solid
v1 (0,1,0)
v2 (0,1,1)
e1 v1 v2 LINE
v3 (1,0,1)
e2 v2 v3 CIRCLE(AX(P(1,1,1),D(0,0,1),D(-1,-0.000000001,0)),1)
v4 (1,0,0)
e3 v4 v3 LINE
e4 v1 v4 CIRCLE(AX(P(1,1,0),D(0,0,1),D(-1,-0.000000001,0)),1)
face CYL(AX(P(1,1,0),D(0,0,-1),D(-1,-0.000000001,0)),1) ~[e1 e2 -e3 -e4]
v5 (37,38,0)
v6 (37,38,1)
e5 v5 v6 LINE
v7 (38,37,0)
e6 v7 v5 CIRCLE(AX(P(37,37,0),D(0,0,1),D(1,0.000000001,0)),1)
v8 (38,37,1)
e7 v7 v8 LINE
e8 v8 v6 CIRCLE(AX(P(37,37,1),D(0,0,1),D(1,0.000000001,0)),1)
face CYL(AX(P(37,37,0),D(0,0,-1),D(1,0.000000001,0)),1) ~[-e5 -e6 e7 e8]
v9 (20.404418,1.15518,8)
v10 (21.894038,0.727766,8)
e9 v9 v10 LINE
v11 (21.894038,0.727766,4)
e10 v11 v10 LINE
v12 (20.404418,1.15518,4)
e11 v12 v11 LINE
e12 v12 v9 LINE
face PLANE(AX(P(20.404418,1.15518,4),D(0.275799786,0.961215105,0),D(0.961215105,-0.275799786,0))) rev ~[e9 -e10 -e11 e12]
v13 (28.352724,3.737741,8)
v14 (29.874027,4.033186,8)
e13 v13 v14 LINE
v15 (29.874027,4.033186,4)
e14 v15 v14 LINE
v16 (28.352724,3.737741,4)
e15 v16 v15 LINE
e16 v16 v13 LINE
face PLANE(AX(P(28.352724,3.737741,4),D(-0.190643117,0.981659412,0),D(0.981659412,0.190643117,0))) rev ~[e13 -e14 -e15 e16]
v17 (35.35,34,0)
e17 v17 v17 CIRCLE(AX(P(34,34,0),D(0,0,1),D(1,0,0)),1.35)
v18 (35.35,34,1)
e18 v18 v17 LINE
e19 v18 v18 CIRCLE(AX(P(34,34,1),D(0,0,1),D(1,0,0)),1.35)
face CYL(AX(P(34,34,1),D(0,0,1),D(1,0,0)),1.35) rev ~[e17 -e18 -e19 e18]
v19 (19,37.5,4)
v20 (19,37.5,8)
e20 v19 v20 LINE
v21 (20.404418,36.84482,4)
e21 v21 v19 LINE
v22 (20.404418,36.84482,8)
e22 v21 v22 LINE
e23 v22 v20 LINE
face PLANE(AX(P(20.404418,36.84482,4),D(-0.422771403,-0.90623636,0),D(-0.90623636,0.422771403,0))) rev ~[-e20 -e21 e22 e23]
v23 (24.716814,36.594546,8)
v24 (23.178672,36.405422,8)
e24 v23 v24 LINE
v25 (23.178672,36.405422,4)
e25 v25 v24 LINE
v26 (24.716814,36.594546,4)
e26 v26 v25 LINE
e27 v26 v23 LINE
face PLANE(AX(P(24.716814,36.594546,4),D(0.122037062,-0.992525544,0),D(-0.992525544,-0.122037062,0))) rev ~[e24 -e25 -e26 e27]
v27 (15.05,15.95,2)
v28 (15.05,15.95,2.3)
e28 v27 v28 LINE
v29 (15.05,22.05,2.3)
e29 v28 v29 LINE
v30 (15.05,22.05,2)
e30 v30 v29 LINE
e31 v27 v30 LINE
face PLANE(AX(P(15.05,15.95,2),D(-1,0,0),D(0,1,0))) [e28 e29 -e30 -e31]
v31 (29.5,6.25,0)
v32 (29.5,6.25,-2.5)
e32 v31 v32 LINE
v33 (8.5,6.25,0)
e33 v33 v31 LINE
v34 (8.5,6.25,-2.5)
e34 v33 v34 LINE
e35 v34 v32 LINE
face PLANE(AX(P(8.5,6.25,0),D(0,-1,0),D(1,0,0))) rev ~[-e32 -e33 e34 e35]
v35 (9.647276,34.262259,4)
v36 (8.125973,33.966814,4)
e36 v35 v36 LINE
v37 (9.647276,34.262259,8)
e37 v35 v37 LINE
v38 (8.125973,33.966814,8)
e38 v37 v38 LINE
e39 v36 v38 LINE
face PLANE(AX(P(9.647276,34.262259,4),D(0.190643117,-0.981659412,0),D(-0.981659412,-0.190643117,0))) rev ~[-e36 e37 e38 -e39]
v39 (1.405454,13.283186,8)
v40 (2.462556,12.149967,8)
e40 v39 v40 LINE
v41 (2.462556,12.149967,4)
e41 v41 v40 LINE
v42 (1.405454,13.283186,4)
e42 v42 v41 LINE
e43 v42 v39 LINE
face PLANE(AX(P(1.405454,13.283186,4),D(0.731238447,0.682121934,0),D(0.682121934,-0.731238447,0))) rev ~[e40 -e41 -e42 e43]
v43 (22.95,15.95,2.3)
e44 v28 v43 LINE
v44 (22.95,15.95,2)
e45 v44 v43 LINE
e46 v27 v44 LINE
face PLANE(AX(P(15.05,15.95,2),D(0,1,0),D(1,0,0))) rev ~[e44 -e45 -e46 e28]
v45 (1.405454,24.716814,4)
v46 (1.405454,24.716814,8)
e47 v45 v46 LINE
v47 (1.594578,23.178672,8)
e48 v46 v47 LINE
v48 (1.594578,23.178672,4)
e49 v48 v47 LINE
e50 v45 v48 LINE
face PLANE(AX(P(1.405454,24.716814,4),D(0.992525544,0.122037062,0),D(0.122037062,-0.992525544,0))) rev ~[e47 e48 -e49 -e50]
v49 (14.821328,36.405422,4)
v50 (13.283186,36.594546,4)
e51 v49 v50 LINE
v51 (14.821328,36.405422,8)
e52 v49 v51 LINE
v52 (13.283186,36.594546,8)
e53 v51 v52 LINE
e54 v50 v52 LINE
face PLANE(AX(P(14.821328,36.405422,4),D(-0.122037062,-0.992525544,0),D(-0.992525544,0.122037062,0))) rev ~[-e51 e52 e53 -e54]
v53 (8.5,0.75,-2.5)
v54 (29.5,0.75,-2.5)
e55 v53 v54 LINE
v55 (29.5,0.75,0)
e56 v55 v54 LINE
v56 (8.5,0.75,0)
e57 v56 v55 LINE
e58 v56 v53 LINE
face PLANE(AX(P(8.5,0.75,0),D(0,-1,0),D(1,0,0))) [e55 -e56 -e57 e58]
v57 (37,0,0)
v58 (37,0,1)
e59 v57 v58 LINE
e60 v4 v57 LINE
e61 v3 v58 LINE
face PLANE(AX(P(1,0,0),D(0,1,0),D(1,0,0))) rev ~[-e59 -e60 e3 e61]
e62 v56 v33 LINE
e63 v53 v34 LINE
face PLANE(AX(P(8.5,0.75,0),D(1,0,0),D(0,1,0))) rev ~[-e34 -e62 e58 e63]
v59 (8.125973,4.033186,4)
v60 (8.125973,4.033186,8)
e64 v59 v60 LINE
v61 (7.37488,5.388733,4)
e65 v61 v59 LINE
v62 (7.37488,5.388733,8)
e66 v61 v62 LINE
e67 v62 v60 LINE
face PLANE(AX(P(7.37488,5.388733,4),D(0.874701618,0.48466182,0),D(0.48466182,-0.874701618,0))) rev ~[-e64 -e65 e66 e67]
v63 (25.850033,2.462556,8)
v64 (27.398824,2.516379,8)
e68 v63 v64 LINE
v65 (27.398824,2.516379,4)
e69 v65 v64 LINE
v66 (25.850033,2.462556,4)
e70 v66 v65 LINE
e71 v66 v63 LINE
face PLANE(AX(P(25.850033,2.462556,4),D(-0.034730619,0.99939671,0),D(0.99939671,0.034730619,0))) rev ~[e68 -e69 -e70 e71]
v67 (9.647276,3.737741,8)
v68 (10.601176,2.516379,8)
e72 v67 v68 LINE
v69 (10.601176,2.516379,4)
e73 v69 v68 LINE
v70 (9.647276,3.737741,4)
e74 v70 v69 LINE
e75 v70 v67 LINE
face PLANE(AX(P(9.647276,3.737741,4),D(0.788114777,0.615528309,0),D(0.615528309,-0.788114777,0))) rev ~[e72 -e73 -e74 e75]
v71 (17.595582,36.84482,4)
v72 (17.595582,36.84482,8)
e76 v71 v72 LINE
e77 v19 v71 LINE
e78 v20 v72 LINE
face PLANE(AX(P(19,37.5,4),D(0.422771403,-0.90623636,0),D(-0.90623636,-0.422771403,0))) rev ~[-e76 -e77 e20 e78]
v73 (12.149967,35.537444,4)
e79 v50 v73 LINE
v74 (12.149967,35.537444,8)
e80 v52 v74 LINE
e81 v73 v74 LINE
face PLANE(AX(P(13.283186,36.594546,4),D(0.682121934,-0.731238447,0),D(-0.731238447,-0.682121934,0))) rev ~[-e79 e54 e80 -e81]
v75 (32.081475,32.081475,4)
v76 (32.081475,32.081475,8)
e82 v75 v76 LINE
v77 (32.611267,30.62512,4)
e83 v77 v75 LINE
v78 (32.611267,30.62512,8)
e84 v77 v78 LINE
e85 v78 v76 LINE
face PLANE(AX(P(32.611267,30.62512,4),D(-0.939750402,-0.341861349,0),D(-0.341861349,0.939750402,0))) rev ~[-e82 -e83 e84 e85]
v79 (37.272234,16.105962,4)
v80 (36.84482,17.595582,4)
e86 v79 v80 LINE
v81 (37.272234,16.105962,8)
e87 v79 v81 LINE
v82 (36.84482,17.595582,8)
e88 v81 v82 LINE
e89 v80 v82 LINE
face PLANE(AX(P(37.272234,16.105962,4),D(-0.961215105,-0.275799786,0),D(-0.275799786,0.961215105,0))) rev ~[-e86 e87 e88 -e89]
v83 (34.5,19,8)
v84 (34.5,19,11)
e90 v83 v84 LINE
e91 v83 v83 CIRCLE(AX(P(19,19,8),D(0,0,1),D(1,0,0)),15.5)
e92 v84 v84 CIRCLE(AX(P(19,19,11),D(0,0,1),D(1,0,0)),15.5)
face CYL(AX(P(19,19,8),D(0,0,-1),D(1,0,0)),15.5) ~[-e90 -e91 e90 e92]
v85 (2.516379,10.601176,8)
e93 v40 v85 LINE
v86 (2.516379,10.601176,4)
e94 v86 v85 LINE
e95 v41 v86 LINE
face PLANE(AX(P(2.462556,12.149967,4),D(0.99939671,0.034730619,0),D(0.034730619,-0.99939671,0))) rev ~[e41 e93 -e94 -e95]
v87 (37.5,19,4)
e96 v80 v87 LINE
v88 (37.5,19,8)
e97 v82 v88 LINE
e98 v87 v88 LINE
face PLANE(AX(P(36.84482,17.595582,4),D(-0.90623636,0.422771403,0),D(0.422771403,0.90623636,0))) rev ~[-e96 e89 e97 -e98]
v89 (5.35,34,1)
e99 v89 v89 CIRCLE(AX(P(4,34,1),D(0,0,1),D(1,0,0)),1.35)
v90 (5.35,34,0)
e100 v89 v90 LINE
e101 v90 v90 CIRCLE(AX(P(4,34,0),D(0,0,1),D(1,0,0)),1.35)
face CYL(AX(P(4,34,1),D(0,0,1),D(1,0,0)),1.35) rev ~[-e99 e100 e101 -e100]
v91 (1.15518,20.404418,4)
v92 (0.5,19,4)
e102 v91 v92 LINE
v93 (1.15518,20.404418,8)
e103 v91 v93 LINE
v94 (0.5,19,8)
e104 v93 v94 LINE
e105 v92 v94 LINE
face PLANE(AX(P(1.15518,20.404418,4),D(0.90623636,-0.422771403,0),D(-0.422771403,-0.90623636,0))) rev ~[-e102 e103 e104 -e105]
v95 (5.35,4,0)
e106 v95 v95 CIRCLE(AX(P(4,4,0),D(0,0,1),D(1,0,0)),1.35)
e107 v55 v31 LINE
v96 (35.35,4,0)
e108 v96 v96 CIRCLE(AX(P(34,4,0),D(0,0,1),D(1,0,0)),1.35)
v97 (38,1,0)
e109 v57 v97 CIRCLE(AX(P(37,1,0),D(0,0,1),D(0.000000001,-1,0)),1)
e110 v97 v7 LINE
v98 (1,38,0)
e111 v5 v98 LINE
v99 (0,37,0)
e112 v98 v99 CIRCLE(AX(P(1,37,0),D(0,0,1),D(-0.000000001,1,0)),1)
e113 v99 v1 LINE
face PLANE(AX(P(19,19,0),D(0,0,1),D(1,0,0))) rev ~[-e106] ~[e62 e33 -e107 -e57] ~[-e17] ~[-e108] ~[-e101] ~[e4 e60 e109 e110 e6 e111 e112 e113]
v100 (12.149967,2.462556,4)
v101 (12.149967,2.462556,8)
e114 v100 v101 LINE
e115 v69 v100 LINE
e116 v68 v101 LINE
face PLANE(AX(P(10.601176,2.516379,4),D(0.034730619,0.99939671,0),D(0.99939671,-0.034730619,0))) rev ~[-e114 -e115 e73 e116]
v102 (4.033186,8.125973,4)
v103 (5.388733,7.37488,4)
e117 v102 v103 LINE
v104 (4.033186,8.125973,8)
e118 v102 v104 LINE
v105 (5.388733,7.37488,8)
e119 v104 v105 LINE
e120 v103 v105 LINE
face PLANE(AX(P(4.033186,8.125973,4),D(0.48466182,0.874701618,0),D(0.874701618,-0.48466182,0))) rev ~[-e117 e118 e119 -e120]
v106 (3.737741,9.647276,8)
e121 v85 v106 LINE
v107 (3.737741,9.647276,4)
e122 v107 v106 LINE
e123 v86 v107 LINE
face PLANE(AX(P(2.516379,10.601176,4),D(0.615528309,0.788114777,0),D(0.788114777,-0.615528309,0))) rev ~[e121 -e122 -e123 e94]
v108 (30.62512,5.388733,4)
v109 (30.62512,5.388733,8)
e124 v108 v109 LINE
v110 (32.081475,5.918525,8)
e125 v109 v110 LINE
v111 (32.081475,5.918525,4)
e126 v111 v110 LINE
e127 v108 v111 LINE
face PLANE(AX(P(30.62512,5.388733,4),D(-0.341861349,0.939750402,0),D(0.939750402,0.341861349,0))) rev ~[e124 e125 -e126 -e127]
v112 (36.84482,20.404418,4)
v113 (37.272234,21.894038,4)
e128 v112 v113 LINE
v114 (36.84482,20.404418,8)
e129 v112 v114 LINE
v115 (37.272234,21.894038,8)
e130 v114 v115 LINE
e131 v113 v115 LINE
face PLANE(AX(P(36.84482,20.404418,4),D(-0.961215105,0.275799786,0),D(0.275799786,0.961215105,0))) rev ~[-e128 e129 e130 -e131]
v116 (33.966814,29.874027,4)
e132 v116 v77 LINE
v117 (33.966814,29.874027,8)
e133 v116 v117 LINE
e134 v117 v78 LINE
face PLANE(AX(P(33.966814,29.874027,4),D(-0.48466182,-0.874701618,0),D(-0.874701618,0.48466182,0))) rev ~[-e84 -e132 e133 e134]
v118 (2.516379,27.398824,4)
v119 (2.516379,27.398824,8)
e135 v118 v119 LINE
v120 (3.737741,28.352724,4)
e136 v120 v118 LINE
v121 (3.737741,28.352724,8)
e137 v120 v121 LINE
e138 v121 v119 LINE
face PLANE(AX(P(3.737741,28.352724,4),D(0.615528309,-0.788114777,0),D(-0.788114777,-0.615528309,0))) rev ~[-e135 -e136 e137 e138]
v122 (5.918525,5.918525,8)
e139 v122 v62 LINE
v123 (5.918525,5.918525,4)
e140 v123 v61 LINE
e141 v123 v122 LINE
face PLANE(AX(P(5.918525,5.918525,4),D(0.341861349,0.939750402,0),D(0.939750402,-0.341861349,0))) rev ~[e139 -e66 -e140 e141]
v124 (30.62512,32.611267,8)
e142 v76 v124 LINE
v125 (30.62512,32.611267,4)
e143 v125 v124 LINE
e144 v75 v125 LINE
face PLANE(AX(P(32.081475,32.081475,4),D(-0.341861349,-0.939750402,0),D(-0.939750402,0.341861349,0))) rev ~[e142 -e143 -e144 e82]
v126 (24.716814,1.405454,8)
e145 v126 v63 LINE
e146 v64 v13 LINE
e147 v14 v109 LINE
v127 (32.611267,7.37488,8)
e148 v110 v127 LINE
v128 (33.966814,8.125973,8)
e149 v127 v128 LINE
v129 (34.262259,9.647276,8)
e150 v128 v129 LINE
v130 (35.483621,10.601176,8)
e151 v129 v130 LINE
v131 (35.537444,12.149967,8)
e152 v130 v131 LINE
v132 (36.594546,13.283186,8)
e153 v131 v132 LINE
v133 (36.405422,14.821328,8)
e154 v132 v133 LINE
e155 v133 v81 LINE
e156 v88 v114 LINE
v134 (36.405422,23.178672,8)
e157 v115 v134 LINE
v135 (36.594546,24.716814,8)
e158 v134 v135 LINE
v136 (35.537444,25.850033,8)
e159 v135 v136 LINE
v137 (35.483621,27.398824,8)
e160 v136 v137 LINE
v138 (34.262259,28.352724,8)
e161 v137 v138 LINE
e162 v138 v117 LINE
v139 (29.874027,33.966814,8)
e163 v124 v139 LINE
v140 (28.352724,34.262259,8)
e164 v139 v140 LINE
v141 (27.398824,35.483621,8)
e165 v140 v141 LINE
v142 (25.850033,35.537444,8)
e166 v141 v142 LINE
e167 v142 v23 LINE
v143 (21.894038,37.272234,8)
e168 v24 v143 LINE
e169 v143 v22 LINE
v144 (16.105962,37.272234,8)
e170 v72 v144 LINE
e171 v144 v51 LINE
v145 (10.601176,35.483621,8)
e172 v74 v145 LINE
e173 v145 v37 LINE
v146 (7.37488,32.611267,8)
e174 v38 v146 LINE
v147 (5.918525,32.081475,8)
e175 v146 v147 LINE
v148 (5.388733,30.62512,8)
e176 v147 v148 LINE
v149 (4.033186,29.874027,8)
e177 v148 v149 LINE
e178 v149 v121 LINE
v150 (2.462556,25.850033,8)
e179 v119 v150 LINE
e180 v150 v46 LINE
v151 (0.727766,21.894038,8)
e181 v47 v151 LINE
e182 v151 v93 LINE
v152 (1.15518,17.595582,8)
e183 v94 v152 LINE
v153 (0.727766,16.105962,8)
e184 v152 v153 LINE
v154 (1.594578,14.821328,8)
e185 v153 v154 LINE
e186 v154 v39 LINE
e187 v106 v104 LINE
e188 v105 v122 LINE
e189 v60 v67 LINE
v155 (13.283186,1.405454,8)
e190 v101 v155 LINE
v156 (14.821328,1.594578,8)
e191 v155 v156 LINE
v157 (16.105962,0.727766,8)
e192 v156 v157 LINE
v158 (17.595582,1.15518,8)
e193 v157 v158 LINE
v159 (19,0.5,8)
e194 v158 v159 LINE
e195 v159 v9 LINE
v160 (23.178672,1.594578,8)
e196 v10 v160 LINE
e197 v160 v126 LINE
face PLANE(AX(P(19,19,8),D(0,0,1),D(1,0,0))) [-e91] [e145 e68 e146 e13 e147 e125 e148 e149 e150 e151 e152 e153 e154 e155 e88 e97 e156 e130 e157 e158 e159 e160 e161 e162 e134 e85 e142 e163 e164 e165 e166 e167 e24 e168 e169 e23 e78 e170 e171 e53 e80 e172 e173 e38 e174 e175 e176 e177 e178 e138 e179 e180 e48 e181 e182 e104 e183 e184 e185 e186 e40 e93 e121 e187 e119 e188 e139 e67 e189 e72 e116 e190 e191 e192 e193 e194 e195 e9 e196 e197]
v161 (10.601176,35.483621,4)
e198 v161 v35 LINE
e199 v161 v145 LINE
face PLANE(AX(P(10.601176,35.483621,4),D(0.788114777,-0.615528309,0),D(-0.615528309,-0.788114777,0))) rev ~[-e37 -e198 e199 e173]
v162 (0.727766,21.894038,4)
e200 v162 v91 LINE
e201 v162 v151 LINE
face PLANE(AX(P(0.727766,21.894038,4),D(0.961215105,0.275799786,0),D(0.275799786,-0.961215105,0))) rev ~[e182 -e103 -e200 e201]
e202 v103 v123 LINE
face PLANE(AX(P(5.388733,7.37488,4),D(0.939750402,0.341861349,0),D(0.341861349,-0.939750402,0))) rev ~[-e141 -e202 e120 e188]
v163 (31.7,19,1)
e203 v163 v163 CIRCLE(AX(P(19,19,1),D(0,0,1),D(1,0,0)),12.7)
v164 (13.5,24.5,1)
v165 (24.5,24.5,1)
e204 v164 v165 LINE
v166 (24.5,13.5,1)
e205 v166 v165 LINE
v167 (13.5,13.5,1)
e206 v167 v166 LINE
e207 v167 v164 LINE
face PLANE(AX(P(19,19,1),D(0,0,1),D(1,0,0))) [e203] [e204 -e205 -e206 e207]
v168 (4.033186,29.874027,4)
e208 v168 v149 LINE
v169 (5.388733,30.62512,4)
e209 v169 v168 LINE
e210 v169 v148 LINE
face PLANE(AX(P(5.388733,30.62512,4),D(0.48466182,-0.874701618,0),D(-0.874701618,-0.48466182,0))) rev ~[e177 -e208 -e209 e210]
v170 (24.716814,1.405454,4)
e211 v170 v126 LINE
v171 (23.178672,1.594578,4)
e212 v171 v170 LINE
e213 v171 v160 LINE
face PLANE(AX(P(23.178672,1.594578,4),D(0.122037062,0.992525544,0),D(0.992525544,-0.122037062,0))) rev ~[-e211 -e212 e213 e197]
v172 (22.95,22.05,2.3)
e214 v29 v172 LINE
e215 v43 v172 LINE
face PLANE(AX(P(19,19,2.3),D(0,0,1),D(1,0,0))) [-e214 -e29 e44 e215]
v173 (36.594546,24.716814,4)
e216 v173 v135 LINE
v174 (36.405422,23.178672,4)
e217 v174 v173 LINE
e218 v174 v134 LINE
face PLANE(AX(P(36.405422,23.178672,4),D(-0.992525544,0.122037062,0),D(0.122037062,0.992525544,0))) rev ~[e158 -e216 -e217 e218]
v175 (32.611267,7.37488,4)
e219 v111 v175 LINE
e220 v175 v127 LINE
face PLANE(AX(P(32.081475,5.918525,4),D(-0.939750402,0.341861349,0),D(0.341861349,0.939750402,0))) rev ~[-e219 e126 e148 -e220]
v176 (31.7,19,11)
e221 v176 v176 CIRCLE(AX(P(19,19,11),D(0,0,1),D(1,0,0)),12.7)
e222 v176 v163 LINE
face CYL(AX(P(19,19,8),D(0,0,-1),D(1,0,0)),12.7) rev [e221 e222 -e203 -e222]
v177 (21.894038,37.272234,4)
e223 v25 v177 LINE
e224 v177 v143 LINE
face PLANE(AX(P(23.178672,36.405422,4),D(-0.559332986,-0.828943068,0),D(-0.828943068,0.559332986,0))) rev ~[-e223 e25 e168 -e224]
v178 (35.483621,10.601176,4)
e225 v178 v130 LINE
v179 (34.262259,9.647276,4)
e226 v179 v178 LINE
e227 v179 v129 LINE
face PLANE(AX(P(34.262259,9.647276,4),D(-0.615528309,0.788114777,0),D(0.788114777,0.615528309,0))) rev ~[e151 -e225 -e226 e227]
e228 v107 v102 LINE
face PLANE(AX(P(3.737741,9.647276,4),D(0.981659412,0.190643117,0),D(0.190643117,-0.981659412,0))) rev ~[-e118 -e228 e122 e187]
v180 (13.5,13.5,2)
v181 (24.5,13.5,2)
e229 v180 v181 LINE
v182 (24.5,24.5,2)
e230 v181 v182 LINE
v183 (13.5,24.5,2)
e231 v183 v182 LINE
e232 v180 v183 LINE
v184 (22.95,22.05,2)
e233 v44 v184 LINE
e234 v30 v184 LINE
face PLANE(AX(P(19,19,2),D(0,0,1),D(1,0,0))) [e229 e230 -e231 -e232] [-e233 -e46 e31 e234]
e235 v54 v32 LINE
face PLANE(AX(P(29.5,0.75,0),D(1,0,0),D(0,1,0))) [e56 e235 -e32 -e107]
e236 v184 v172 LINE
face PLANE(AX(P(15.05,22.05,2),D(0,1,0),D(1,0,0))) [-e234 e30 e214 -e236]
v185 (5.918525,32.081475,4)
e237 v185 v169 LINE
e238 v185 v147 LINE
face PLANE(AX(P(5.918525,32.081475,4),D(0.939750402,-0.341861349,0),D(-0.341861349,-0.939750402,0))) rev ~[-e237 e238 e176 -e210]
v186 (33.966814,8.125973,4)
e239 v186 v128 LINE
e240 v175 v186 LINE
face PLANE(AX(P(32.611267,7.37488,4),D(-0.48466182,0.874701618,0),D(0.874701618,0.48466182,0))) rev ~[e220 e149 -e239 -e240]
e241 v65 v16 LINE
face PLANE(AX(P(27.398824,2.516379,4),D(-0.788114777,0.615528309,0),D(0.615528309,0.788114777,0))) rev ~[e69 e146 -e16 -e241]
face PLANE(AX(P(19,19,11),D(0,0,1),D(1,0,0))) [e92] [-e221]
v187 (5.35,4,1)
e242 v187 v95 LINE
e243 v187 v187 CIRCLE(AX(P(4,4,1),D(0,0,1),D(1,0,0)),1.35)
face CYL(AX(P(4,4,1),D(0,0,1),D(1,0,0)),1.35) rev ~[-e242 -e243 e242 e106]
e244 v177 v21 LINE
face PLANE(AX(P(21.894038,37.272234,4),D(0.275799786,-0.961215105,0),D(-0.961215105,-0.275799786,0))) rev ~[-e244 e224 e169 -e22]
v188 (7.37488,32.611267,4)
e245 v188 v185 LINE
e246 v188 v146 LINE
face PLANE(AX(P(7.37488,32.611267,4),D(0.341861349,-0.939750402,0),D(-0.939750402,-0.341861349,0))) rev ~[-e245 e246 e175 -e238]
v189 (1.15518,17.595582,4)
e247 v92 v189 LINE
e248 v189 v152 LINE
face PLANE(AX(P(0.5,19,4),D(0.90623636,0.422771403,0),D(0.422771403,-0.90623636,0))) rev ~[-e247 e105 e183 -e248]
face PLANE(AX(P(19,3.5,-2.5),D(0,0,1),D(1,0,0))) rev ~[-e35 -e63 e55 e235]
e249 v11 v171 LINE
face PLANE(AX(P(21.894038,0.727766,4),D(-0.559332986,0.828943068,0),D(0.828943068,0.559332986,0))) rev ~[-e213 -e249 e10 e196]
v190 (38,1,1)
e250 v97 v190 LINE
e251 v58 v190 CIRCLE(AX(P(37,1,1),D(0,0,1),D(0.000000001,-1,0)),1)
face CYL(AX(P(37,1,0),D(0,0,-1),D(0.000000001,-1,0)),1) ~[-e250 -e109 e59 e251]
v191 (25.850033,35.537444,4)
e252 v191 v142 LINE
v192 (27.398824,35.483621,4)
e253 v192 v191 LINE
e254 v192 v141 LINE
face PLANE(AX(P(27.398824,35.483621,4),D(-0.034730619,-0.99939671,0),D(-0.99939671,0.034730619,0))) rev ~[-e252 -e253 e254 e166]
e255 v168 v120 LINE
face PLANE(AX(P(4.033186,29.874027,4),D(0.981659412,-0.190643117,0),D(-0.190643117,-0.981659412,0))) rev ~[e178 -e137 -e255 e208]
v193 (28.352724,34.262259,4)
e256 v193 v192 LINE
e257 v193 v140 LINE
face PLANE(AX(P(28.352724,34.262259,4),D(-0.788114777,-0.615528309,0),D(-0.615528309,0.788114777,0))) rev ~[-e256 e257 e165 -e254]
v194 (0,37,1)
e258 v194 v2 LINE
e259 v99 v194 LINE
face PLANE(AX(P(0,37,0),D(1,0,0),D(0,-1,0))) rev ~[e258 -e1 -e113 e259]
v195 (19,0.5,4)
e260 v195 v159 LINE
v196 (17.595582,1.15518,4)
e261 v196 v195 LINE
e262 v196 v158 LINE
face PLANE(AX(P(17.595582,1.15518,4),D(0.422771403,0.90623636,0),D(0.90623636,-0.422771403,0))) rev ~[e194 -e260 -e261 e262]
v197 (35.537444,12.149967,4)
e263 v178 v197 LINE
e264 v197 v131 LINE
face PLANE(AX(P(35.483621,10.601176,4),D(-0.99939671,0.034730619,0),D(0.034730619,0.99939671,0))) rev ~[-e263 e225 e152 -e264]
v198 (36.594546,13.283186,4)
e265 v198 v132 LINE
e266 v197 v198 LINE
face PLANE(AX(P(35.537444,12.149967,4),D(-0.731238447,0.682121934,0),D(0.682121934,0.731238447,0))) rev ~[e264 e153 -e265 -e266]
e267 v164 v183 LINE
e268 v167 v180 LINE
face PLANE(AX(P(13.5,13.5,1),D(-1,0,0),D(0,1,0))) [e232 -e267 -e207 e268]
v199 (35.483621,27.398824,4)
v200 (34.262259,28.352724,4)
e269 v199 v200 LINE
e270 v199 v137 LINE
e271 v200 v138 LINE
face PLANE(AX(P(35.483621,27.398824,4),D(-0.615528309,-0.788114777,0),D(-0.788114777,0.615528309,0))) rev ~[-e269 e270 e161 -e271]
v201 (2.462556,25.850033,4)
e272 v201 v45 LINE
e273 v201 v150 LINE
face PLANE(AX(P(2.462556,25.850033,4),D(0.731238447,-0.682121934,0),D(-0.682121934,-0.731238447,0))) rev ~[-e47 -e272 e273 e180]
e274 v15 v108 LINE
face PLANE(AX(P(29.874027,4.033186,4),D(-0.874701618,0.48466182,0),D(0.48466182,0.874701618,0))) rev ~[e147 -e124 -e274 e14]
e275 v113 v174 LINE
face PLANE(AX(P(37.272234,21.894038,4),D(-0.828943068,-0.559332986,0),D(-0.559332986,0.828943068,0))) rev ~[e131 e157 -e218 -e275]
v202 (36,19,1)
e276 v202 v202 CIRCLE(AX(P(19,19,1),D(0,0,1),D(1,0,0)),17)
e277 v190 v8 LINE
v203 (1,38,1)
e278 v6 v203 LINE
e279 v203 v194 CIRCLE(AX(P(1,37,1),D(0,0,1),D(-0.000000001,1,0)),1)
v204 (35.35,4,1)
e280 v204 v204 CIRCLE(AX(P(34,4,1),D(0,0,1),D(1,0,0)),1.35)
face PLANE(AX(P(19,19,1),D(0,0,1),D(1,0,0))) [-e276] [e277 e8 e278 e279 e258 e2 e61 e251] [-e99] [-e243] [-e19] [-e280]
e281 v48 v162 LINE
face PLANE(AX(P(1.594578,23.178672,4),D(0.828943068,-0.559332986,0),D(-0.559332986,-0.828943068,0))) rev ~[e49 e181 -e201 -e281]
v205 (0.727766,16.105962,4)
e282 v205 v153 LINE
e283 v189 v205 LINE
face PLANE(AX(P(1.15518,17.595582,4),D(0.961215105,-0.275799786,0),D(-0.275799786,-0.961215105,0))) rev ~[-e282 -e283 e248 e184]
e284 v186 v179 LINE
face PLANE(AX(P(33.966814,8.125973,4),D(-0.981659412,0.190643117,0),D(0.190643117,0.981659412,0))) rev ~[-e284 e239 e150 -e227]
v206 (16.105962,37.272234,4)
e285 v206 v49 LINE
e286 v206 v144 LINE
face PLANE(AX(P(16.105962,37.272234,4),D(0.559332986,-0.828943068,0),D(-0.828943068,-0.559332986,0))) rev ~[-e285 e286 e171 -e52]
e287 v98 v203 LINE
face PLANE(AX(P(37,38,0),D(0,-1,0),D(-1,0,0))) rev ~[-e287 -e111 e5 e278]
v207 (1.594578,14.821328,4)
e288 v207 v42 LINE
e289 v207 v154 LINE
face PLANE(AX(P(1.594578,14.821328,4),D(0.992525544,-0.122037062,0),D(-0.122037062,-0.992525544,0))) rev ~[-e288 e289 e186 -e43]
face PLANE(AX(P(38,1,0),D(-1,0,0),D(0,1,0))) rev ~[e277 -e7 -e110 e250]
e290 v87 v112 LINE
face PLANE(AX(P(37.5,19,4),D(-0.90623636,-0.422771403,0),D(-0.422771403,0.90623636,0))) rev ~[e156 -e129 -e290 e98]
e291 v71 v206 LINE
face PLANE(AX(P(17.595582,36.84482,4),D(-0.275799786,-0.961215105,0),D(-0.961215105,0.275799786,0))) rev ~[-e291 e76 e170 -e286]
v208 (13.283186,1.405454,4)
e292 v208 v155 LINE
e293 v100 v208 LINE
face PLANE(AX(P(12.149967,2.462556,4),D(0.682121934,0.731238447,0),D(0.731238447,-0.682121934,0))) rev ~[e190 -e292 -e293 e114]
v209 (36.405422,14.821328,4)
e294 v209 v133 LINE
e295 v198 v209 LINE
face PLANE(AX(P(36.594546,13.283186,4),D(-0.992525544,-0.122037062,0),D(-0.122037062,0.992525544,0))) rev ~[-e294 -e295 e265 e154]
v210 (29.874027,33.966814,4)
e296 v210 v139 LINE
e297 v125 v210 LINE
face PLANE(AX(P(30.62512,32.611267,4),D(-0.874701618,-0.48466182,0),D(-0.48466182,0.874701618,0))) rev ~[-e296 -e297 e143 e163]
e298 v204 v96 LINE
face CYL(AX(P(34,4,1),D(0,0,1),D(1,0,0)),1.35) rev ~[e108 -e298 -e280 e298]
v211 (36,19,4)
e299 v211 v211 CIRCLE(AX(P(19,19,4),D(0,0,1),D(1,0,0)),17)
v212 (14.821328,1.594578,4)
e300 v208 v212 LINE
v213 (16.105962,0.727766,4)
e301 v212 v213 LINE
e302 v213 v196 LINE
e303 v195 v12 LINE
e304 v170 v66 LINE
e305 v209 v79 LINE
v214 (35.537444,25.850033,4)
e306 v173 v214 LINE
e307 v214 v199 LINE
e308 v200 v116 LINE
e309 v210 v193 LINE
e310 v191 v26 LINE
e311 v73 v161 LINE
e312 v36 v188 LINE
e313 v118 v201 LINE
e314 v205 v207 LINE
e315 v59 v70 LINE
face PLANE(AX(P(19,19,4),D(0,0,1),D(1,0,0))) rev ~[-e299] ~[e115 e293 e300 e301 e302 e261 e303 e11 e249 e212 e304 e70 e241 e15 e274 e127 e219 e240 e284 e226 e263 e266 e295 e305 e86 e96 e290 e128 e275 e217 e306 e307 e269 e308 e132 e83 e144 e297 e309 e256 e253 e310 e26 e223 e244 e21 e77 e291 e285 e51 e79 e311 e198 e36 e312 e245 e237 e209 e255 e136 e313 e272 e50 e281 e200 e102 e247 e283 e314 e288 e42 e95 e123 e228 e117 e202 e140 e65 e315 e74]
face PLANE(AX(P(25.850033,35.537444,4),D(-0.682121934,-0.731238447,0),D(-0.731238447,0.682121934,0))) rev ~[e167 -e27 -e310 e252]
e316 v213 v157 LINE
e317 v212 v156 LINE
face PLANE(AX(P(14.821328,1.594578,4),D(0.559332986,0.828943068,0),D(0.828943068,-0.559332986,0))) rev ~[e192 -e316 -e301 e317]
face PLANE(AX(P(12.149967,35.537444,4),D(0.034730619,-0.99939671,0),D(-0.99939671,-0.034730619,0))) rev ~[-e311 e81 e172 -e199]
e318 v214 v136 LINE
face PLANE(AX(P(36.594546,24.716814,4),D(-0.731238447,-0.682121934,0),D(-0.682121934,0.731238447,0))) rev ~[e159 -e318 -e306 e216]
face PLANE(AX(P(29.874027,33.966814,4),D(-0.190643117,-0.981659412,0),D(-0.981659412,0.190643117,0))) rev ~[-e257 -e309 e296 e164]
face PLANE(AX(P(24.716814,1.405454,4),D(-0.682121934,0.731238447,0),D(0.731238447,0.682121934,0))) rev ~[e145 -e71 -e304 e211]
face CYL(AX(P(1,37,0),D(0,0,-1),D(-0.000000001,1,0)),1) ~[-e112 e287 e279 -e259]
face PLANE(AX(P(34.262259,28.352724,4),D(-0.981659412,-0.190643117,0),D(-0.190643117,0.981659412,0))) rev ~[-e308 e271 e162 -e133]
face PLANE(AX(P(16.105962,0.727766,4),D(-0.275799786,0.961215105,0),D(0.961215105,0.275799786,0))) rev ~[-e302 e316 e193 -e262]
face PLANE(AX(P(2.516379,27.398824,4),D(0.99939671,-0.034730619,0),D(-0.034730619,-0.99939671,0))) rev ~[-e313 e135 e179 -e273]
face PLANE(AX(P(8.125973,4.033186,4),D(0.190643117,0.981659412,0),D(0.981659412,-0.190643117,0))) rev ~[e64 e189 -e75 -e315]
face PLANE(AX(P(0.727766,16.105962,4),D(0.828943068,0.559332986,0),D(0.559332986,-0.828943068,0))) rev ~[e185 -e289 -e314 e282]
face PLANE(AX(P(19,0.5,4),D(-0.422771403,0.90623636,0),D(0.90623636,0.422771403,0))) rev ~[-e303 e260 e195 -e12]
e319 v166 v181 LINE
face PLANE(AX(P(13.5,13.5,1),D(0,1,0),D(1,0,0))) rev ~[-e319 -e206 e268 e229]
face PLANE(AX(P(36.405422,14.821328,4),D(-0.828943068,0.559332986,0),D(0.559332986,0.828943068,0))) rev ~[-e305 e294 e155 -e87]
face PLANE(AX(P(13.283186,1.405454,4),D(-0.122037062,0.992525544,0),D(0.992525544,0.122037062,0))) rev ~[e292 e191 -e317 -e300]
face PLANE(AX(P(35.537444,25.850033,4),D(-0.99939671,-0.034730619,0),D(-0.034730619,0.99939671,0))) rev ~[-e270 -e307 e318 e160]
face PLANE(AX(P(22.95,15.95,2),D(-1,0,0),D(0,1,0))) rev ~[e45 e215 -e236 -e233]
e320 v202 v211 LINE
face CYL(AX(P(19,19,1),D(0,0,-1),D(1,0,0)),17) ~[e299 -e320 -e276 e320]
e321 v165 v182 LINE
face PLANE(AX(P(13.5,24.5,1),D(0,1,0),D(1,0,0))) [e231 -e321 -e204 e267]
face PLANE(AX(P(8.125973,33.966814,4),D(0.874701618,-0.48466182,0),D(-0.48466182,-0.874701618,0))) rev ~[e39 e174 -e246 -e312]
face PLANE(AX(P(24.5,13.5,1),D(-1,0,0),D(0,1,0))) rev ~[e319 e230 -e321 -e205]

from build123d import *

# Parameters (mm, degrees)
PCB_DEPTH           = 1
SKETCH2_W           = 11
SKETCH2_H           = 11
SENSOR_DEPTH        = 1
SKETCH3_W           = 7.9
SKETCH3_H           = 6.1
SENSOR_GLASS_DEPTH  = 0.3
SKETCH4_R           = 17
SKETCH4_R_2         = 12.7
MOUNT_BASE_DEPTH    = 3
SKETCH5_R           = 12.7
LOCK_RING_DEPTH     = 4
SKETCH6_R           = 15.5
SKETCH6_R_2         = 12.7
CS_TUBE_DEPTH       = 3
SKETCH7_W           = 21
SKETCH7_H           = 5.5
FFC_CONNECTOR_DEPTH = 2.5
SKETCH8_R           = 1.35
HOLES_DEPTH         = 1


with BuildPart() as part:
    # Sketch1 → PCB (new body)
    with BuildSketch(Plane.XY):
        with BuildLine():
            Line((1, 0), (37, 0))
            ThreePointArc((37, 0), (37.707106781, 0.292893219), (38, 1))
            Line((38, 1), (38, 37))
            ThreePointArc((38, 37), (37.707106781, 37.707106781), (37, 38))
            Line((37, 38), (1, 38))
            ThreePointArc((1, 38), (0.292893219, 37.707106781), (0, 37))
            Line((0, 37), (0, 1))
            ThreePointArc((0, 1), (0.292893219, 0.292893219), (1, 0))
        make_face()
    extrude(amount=PCB_DEPTH)

    # Sketch2 → Sensor (add)
    with BuildSketch(Plane.XY.offset(1)):
        with Locations((19, 19)):
            Rectangle(SKETCH2_W, SKETCH2_H)
    extrude(amount=SENSOR_DEPTH)

    # Sketch3 → Sensor_glass (add)
    with BuildSketch(Plane.XY.offset(2)):
        with Locations((19, 19)):
            Rectangle(SKETCH3_W, SKETCH3_H)
    extrude(amount=SENSOR_GLASS_DEPTH)

    # Sketch4 → Mount_base (add)
    with BuildSketch(Plane.XY.offset(1)):
        with Locations((19, 19)):
            Circle(SKETCH4_R)
        with Locations((19, 19)):
            Circle(SKETCH4_R_2, mode=Mode.SUBTRACT)
    extrude(amount=MOUNT_BASE_DEPTH)

    # Sketch5 → Lock_ring (add)
    with BuildSketch(Plane.XY.offset(4)):
        Polygon((37.5, 19), (36.844820274, 20.404417814), (37.272234301, 21.894037603), (36.405421575, 23.178672013), (36.594545551, 24.716814396), (35.537443632, 25.850033439), (35.483620697, 27.398824245), (34.262258942, 28.352724308), (33.966814396, 29.874027167), (32.611266784, 30.625120065), (32.081475452, 32.081475452), (30.625120065, 32.611266784), (29.874027167, 33.966814396), (28.352724308, 34.262258942), (27.398824245, 35.483620697), (25.850033439, 35.537443632), (24.716814396, 36.594545551), (23.178672013, 36.405421575), (21.894037603, 37.272234301), (20.404417814, 36.844820274), (19, 37.5), (17.595582186, 36.844820274), (16.105962397, 37.272234301), (14.821327987, 36.405421575), (13.283185604, 36.594545551), (12.149966561, 35.537443632), (10.601175755, 35.483620697), (9.647275692, 34.262258942), (8.125972833, 33.966814396), (7.374879935, 32.611266784), (5.918524548, 32.081475452), (5.388733216, 30.625120065), (4.033185604, 29.874027167), (3.737741058, 28.352724308), (2.516379303, 27.398824245), (2.462556368, 25.850033439), (1.405454449, 24.716814396), (1.594578425, 23.178672013), (0.727765699, 21.894037603), (1.155179726, 20.404417814), (0.5, 19), (1.155179726, 17.595582186), (0.727765699, 16.105962397), (1.594578425, 14.821327987), (1.405454449, 13.283185604), (2.462556368, 12.149966561), (2.516379303, 10.601175755), (3.737741058, 9.647275692), (4.033185604, 8.125972833), (5.388733216, 7.374879935), (5.918524548, 5.918524548), (7.374879935, 5.388733216), (8.125972833, 4.033185604), (9.647275692, 3.737741058), (10.601175755, 2.516379303), (12.149966561, 2.462556368), (13.283185604, 1.405454449), (14.821327987, 1.594578425), (16.105962397, 0.727765699), (17.595582186, 1.155179726), (19, 0.5), (20.404417814, 1.155179726), (21.894037603, 0.727765699), (23.178672013, 1.594578425), (24.716814396, 1.405454449), (25.850033439, 2.462556368), (27.398824245, 2.516379303), (28.352724308, 3.737741058), (29.874027167, 4.033185604), (30.625120065, 5.388733216), (32.081475452, 5.918524548), (32.611266784, 7.374879935), (33.966814396, 8.125972833), (34.262258942, 9.647275692), (35.483620697, 10.601175755), (35.537443632, 12.149966561), (36.594545551, 13.283185604), (36.405421575, 14.821327987), (37.272234301, 16.105962397), (36.844820274, 17.595582186), align=None)
        with Locations((19, 19)):
            Circle(SKETCH5_R, mode=Mode.SUBTRACT)
    extrude(amount=LOCK_RING_DEPTH)

    # Sketch6 → CS_tube (add)
    with BuildSketch(Plane.XY.offset(8)):
        with Locations((19, 19)):
            Circle(SKETCH6_R)
        with Locations((19, 19)):
            Circle(SKETCH6_R_2, mode=Mode.SUBTRACT)
    extrude(amount=CS_TUBE_DEPTH)

    # Sketch7 → FFC_connector (add)
    with BuildSketch(Plane.XY):
        with Locations((19, 3.5)):
            Rectangle(SKETCH7_W, SKETCH7_H)
    extrude(amount=-FFC_CONNECTOR_DEPTH)

    # Sketch8 → Holes (cut)
    with BuildSketch(Plane.XY.offset(1)):
        with Locations((4, 4)):
            Circle(SKETCH8_R)
        with Locations((4, 34)):
            Circle(SKETCH8_R)
        with Locations((34, 4)):
            Circle(SKETCH8_R)
        with Locations((34, 34)):
            Circle(SKETCH8_R)
    extrude(amount=-HOLES_DEPTH, mode=Mode.SUBTRACT)


solid = part.part
